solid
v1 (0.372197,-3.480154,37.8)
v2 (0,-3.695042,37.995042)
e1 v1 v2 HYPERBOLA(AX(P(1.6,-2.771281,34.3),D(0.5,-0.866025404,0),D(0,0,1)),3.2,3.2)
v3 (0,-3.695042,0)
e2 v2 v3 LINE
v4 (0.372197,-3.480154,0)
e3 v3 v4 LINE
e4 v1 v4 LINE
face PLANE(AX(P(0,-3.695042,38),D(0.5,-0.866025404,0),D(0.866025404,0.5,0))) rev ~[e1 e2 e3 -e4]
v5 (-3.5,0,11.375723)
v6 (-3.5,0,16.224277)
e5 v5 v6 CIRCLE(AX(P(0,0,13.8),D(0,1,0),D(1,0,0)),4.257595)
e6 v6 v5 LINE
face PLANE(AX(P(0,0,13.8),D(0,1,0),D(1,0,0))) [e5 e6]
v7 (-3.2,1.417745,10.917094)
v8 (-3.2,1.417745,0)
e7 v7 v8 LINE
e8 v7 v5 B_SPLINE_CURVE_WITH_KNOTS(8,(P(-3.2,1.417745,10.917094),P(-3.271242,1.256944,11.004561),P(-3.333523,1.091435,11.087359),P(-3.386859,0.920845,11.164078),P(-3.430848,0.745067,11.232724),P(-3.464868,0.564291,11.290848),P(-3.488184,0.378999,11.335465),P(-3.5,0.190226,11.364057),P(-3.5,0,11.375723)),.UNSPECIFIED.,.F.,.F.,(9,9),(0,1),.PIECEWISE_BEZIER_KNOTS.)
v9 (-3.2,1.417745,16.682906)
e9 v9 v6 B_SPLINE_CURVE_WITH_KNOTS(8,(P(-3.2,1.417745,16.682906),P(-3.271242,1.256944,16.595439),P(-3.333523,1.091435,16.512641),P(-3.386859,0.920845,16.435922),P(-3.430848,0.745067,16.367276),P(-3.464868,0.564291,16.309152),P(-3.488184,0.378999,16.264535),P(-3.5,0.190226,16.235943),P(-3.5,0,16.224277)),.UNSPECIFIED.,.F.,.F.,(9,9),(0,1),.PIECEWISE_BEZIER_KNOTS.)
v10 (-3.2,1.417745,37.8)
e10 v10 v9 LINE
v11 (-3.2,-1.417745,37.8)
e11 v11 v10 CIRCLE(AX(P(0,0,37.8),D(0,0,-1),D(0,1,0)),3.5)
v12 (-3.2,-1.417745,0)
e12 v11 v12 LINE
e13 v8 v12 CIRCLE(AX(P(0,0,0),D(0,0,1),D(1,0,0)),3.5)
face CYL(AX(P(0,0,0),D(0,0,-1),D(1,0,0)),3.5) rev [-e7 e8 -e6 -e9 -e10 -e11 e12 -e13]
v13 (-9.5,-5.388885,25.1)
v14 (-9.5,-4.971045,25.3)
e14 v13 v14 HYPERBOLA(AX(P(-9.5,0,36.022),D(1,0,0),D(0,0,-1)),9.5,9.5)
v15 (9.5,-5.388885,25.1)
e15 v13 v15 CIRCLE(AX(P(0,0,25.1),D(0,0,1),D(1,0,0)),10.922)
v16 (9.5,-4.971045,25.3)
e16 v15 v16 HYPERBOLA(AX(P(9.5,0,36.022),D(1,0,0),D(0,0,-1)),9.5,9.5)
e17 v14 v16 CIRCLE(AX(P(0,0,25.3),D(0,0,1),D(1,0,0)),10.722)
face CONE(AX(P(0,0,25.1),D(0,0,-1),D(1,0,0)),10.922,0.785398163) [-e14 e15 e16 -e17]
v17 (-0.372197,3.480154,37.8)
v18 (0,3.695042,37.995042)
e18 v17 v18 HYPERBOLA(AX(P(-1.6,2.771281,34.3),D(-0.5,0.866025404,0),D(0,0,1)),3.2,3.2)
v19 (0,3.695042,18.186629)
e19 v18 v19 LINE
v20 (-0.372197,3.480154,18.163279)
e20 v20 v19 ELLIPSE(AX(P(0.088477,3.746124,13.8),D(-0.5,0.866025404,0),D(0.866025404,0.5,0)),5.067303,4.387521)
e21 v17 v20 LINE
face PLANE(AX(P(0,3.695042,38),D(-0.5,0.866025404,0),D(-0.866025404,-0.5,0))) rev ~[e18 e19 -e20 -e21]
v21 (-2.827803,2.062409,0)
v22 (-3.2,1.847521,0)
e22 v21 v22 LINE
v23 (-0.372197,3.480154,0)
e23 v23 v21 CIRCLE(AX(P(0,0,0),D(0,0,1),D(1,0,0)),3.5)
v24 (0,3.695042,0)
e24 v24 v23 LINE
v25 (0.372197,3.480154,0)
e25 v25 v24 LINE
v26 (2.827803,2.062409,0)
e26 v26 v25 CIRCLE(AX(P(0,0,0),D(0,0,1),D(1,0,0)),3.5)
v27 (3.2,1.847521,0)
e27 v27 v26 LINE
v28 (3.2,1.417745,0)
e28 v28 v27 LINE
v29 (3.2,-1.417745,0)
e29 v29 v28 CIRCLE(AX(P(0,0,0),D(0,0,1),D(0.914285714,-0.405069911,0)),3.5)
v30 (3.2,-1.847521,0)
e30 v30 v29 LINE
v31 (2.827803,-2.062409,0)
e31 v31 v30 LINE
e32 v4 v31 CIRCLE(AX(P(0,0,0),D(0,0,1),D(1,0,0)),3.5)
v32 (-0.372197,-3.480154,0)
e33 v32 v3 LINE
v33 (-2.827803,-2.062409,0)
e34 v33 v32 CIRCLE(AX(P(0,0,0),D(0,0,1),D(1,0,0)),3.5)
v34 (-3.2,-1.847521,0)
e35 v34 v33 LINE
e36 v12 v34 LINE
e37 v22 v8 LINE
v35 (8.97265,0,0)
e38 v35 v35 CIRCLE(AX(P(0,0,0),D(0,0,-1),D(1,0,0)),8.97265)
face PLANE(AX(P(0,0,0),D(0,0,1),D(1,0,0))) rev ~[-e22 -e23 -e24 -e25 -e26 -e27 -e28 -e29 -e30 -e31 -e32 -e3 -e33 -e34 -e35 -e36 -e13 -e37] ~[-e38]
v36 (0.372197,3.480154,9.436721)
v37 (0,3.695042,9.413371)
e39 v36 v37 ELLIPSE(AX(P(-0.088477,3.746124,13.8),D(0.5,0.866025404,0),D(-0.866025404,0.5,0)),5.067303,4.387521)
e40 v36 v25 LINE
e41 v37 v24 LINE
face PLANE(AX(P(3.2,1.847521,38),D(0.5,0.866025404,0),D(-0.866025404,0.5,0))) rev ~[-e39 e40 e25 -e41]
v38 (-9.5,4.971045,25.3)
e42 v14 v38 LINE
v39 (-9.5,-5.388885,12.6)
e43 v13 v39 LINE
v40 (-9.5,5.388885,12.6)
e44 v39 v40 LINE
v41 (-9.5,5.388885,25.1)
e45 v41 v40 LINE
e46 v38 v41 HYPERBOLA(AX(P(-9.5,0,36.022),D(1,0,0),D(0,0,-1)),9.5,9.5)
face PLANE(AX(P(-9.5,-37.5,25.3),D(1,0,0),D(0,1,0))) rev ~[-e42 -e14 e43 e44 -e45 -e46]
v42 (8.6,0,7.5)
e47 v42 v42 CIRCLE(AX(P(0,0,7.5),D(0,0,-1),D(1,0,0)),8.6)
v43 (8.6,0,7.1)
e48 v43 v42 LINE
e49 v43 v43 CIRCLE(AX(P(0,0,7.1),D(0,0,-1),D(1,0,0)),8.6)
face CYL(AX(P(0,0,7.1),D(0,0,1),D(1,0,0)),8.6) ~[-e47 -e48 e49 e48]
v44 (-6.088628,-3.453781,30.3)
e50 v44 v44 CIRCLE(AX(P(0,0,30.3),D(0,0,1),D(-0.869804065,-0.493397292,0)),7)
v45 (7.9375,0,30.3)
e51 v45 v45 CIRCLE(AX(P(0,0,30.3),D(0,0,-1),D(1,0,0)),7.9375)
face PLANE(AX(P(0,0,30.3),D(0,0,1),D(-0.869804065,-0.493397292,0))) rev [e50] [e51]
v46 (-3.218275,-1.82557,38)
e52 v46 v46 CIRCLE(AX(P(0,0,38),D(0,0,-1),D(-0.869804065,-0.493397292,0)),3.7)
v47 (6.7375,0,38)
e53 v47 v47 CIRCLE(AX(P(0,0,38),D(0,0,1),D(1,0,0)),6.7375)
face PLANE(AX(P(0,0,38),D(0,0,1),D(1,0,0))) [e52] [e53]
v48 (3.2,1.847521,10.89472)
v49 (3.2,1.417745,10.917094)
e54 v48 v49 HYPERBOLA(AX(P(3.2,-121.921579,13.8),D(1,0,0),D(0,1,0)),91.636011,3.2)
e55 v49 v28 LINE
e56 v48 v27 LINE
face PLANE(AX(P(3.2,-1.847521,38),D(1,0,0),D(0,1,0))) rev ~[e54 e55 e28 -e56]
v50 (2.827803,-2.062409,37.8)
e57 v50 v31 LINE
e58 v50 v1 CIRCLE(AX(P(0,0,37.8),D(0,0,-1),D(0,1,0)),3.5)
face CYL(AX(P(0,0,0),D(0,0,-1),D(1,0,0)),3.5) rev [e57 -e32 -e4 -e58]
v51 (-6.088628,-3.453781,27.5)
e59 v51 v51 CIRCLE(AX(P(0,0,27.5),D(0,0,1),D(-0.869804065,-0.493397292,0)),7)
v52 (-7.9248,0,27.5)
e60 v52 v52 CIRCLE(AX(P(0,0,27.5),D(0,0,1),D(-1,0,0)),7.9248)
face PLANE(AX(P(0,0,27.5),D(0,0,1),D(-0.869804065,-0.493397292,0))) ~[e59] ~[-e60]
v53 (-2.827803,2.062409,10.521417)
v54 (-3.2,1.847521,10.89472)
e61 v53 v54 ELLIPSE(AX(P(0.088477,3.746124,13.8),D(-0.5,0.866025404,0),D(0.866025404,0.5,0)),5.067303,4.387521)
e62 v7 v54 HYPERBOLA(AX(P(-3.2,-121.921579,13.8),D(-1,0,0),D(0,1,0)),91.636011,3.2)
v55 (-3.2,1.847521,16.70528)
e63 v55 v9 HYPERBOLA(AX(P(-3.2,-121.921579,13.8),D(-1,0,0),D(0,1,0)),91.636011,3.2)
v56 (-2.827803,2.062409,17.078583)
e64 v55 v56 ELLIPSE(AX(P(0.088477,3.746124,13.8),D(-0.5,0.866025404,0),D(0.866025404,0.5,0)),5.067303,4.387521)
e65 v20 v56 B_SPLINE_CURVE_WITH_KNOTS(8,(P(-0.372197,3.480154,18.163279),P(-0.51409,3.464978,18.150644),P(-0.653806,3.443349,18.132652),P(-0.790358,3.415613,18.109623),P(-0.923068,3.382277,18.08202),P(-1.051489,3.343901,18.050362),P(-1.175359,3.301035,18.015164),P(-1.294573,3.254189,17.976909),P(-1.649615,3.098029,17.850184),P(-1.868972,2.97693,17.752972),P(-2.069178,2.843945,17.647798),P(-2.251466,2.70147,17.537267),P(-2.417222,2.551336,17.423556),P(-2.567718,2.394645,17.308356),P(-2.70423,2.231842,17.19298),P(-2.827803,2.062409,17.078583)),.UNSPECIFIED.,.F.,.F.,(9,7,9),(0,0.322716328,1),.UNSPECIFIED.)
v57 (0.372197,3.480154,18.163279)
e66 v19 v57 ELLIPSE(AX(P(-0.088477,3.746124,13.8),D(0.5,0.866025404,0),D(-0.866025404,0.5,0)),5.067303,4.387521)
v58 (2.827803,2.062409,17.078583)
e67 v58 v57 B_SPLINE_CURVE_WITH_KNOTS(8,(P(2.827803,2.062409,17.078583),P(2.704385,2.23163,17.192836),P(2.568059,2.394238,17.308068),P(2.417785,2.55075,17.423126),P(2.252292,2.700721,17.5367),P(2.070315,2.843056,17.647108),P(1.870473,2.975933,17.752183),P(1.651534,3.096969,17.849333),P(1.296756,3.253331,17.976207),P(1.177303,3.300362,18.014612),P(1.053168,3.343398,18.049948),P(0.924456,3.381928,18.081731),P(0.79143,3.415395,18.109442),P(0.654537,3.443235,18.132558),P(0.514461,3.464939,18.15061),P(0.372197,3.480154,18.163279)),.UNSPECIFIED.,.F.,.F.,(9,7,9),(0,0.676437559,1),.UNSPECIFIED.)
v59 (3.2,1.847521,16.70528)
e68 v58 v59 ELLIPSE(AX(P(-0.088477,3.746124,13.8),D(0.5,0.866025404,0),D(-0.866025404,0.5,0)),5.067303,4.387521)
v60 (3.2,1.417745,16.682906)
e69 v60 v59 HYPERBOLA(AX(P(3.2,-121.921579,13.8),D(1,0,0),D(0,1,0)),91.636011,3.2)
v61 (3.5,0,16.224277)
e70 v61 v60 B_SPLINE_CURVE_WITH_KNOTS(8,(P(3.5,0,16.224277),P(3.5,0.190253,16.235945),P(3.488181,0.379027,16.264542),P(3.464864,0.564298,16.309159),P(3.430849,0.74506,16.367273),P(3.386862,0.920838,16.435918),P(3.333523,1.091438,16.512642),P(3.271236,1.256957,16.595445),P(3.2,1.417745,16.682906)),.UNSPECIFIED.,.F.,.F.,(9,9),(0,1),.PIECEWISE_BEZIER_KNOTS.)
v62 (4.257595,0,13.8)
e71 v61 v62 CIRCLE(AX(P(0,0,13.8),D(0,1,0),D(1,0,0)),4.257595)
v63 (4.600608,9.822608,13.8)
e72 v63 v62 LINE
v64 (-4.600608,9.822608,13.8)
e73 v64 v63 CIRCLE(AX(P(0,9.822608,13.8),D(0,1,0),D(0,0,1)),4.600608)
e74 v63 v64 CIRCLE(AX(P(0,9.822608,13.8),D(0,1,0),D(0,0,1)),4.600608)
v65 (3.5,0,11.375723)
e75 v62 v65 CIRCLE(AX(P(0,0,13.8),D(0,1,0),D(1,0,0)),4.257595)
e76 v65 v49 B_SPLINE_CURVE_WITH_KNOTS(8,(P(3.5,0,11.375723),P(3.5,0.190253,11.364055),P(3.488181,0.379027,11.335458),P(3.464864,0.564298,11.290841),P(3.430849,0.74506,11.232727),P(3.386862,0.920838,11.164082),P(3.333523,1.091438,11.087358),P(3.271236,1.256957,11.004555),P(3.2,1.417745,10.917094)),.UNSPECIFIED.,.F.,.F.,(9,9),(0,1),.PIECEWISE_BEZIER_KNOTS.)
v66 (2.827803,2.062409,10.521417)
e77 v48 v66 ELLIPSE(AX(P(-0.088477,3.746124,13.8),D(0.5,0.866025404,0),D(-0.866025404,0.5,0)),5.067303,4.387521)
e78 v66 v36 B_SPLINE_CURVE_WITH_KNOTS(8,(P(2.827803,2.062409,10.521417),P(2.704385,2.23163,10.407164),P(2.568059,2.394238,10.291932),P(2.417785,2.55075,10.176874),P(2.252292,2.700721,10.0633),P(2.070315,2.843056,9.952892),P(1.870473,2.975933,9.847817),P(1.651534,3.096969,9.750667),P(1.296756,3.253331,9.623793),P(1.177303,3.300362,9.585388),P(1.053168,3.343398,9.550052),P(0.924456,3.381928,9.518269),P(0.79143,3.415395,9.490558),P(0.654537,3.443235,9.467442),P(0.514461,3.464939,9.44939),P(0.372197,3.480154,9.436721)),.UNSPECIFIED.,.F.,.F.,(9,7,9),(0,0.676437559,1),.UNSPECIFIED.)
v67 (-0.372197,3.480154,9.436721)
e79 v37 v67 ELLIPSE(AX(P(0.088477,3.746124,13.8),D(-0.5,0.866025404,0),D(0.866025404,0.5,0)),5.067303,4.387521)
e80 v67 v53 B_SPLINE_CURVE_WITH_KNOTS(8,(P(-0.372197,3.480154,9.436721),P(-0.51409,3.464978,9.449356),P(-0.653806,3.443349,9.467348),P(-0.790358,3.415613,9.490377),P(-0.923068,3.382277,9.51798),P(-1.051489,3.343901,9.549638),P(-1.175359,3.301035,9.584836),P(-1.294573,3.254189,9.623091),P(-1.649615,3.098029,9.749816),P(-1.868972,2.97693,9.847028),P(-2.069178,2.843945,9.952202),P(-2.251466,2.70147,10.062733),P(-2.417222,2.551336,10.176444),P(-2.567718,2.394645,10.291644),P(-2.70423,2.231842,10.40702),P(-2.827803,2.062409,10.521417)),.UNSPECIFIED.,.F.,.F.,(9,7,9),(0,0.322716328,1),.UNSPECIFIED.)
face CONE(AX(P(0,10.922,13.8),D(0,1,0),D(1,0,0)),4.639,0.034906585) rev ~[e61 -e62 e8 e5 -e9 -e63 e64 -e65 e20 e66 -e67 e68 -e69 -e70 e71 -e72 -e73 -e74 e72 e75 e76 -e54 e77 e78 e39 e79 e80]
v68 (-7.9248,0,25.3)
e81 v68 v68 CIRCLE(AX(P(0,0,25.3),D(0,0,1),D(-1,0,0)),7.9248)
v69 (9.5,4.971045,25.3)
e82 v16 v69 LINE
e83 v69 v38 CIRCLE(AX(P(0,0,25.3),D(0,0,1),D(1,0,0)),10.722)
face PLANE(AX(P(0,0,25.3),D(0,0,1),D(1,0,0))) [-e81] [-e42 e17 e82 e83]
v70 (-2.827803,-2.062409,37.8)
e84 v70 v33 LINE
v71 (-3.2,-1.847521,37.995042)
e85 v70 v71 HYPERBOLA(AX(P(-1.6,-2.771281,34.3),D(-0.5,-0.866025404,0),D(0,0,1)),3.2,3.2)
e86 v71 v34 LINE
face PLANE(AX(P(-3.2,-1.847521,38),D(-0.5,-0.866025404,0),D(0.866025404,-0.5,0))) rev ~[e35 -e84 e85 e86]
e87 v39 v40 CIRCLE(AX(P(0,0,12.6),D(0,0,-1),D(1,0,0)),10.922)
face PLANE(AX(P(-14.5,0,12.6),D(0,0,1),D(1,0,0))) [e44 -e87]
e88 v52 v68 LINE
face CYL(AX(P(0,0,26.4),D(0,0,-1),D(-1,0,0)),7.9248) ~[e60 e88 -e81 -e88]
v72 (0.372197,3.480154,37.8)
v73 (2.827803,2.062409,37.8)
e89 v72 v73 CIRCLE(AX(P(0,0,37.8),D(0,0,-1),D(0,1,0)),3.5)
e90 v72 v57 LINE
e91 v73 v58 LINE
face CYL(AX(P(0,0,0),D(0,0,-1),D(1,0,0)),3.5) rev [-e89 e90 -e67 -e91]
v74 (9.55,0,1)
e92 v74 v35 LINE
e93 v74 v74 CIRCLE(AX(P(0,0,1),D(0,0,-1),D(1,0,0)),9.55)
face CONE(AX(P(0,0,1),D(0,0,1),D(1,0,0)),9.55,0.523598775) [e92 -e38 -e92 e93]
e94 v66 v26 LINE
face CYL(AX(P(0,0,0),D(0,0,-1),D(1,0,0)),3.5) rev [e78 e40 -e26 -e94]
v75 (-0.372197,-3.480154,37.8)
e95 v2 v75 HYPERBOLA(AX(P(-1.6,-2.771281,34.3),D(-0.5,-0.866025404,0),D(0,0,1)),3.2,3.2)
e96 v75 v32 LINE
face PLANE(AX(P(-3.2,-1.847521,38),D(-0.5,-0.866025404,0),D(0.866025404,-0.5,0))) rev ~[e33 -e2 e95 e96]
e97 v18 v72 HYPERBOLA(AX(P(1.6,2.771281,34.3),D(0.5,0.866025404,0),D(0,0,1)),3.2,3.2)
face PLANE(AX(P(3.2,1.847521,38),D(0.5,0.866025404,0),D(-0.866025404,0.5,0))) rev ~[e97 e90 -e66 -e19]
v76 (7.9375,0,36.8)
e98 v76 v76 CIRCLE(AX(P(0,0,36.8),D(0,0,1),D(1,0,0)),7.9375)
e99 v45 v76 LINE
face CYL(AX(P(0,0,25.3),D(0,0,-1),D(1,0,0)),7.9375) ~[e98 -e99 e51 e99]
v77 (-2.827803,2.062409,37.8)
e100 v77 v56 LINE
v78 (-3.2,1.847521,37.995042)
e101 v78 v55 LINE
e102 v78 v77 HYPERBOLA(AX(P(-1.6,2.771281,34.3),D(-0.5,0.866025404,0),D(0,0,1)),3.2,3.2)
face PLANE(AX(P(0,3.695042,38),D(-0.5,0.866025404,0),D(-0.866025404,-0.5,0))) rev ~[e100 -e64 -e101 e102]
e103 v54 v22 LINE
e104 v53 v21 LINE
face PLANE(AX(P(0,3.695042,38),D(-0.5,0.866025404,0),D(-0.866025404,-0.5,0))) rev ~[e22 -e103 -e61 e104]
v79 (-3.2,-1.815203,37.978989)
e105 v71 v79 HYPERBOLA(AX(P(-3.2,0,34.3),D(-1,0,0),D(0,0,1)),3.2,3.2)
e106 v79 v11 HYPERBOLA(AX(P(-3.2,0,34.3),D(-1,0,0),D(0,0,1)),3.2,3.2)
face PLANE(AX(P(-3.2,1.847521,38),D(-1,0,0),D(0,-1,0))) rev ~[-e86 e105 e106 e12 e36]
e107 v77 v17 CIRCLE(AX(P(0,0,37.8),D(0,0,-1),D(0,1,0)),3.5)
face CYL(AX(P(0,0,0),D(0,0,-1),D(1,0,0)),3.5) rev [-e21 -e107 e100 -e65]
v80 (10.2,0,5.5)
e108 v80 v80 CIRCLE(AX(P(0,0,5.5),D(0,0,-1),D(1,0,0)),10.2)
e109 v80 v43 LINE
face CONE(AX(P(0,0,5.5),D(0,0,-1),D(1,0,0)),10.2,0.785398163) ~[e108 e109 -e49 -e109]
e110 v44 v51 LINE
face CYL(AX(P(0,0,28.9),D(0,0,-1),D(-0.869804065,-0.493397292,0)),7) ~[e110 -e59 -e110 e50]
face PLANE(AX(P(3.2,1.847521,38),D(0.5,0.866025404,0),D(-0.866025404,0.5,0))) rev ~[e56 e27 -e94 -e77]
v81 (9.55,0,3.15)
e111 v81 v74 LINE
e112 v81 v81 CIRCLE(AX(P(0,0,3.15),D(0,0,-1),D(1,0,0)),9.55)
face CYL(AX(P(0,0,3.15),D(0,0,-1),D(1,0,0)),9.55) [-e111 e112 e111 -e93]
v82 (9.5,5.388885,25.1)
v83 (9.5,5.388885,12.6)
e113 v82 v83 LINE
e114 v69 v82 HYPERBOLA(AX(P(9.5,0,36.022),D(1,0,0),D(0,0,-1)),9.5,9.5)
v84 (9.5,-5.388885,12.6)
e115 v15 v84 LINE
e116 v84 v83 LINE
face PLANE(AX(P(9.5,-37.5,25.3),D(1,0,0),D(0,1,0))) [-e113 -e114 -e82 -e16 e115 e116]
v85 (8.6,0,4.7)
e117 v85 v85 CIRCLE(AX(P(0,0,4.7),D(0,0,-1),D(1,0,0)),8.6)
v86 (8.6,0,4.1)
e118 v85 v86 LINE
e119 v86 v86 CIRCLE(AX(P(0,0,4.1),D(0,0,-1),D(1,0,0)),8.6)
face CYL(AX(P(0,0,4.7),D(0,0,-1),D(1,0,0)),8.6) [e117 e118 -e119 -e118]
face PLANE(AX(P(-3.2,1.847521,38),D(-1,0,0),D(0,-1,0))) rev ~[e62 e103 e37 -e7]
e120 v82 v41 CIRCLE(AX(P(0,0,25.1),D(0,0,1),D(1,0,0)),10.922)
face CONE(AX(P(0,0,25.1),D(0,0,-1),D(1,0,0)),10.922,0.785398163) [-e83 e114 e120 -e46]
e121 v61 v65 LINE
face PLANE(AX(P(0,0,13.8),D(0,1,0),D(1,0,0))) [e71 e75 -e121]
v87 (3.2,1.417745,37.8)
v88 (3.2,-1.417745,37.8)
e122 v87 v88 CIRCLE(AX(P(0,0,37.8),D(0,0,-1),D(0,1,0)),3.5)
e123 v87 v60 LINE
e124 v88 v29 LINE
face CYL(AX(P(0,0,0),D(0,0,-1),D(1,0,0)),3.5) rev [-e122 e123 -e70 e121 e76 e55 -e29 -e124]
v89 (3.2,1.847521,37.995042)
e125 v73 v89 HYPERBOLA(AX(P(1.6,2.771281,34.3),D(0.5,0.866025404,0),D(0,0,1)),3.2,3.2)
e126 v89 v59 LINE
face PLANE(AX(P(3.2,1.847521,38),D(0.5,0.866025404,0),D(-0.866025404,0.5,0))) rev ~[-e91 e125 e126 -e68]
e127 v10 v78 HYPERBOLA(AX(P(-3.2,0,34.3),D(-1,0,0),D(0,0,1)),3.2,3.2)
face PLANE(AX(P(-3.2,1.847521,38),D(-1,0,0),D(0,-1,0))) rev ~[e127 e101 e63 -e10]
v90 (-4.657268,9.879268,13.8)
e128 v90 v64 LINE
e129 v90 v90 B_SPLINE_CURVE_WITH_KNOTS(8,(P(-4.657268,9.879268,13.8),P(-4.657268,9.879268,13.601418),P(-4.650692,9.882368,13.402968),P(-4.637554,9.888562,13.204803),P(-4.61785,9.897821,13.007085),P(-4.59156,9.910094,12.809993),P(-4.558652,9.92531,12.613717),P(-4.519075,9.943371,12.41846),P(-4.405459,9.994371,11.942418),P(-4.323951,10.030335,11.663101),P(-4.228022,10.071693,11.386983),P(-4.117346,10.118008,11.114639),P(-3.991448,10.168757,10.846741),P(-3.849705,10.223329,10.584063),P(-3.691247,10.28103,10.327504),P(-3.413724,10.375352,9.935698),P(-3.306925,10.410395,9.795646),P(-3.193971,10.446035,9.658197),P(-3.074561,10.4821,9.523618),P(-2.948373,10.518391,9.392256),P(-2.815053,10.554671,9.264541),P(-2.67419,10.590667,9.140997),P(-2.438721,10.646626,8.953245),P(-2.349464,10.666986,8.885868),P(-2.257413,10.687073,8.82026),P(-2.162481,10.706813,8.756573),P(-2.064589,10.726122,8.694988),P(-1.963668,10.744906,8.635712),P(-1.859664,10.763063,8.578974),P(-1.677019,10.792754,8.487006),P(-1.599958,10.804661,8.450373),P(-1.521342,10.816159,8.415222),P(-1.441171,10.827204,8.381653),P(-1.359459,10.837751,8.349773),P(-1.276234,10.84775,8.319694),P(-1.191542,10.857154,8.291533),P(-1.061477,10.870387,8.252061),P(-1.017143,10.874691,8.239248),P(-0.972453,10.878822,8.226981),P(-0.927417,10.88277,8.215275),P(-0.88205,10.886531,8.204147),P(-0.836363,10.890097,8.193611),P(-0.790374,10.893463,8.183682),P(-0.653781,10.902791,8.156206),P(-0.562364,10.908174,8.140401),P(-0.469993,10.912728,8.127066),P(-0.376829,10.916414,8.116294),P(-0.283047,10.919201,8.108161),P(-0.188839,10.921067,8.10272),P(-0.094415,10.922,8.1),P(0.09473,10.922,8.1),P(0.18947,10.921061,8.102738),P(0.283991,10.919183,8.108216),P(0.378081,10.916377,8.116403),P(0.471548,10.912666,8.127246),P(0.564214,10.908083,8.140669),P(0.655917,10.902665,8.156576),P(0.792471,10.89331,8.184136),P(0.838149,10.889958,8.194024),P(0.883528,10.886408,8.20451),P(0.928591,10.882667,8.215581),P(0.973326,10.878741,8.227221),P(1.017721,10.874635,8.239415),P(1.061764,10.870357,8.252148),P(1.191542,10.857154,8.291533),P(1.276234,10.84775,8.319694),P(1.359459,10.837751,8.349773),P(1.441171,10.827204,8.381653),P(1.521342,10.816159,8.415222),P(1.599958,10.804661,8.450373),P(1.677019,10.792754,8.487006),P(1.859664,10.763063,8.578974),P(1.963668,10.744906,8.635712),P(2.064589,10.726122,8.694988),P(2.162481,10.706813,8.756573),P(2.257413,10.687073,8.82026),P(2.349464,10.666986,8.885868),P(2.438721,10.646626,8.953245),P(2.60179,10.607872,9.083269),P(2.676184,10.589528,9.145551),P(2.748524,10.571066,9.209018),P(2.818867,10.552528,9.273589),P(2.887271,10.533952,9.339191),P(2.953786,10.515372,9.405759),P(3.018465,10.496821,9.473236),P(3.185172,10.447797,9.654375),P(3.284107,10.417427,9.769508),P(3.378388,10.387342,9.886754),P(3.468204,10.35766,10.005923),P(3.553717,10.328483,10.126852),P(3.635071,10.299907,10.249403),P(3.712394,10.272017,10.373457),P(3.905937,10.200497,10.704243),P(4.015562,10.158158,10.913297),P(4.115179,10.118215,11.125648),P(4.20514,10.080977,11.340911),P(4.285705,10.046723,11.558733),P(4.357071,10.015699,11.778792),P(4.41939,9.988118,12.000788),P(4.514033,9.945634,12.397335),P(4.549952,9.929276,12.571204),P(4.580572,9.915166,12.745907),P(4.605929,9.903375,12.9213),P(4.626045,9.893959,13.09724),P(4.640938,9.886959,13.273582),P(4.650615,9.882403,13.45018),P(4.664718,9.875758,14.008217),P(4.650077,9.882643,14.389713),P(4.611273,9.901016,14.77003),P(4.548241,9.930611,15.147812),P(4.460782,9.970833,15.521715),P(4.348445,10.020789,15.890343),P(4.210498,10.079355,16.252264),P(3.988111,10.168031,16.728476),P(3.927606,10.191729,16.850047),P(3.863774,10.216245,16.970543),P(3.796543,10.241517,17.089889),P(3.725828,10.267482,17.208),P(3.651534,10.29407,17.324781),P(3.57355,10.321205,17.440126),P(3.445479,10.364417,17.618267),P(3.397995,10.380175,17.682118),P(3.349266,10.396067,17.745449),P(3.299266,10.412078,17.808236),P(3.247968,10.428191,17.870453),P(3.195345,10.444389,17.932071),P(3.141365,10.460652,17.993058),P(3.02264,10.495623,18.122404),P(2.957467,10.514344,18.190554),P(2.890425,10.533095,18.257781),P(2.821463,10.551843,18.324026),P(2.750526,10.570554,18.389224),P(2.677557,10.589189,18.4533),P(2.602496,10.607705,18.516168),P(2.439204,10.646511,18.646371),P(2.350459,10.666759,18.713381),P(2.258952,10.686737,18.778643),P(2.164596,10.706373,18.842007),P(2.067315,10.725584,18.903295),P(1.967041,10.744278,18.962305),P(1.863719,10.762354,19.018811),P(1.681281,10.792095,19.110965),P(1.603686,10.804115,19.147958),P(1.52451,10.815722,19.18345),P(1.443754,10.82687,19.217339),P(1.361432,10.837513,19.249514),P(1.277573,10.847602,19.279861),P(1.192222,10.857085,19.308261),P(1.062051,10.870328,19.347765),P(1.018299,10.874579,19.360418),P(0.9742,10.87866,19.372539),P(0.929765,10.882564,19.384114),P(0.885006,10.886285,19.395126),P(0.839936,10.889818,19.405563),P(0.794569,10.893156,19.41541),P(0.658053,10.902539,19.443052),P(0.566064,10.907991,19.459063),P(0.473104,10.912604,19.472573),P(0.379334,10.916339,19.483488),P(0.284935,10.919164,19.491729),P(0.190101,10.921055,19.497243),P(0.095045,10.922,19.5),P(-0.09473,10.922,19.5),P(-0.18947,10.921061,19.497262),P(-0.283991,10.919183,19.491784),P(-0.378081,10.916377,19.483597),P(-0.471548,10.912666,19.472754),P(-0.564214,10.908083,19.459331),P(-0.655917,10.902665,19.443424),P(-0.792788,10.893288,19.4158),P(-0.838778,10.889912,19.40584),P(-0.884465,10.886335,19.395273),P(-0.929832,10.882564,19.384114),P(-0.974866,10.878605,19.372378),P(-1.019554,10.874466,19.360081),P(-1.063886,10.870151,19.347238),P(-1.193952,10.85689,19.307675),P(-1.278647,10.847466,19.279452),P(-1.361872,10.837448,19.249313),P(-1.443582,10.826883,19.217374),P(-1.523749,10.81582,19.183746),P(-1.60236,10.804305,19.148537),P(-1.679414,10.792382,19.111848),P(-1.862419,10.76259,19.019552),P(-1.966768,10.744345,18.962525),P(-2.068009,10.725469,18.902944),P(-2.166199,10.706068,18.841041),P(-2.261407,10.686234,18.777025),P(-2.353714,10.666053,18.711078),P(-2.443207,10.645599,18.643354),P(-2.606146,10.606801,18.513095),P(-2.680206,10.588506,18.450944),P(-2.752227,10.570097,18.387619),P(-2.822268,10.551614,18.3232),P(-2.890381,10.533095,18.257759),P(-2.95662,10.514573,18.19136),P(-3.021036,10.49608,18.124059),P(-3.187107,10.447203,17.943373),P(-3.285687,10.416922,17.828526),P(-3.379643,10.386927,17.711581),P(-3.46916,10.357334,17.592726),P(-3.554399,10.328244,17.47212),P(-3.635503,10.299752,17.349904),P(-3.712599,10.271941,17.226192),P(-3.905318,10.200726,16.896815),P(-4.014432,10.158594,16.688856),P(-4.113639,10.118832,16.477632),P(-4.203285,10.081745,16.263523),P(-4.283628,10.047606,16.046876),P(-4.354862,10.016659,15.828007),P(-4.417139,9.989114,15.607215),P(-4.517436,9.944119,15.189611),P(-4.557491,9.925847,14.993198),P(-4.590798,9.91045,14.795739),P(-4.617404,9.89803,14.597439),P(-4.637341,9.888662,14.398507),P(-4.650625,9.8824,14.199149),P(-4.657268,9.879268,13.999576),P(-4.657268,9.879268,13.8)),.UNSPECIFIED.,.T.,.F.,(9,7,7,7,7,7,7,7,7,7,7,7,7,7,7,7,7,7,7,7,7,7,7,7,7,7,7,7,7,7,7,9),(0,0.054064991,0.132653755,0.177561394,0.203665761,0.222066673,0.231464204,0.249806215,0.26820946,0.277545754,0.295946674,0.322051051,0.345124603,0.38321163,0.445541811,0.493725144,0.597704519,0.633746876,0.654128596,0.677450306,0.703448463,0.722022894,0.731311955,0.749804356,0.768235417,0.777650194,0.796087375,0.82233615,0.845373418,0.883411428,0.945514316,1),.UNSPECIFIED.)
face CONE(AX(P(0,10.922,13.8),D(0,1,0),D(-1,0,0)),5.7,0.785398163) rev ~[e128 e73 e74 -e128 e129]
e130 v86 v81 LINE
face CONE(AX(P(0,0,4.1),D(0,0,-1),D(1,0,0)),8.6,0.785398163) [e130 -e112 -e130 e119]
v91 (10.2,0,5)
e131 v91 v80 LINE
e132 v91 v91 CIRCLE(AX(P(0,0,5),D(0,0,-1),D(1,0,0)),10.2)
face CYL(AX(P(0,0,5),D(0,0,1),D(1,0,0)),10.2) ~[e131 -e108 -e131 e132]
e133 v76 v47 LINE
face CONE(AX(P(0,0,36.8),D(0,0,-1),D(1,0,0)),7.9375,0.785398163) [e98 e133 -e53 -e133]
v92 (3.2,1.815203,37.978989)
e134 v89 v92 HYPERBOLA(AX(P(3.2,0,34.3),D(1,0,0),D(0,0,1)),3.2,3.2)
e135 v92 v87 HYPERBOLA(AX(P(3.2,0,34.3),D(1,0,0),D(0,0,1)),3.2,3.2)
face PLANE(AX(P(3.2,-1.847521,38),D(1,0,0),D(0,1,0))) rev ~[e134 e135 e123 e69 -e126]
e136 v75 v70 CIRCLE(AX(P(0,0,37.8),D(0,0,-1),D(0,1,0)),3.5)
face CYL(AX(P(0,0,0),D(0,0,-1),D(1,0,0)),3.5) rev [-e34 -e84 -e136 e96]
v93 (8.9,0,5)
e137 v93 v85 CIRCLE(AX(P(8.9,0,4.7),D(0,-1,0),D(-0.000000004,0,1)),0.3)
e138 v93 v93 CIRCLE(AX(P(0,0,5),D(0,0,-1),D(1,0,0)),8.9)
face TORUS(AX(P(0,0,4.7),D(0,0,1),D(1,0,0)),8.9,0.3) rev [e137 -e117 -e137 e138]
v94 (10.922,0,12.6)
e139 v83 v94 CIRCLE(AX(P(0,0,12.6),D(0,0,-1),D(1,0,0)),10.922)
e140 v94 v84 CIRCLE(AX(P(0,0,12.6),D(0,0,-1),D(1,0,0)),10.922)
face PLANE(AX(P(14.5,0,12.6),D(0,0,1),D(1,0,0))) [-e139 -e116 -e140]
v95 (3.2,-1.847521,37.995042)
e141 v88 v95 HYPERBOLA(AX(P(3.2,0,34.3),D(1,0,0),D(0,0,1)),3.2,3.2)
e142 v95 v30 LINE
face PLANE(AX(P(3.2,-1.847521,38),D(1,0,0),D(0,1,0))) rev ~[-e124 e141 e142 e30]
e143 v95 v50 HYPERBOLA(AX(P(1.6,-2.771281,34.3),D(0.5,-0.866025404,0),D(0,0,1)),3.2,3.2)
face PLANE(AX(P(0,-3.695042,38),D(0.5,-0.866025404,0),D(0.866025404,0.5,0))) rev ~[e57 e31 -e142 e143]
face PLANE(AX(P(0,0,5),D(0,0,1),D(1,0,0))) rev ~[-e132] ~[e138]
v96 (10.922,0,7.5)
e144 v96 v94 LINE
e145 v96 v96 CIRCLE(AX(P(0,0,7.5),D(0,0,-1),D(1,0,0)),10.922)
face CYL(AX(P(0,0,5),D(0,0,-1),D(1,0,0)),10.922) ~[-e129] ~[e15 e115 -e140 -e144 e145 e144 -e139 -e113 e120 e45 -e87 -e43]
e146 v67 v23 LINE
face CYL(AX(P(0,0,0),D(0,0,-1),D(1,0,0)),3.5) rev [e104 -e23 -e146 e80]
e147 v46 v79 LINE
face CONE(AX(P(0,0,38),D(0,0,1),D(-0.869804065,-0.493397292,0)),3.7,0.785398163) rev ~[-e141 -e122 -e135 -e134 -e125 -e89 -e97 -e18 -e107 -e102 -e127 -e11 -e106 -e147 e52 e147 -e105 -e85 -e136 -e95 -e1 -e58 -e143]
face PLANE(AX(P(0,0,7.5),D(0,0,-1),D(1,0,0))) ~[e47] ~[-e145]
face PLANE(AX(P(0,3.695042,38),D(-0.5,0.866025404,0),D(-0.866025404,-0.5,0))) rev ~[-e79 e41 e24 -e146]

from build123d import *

# Parameters (mm, degrees)
SKETCH1_R               = 9.55
TUBEINTERFACE1_DEPTH    = 5
SKETCH3_R               = 10.922
BODY_DEPTH              = 20.3
BODYCHAMFER_SIZE        = 0.2
SKETCH4_W               = 10
SKETCH4_H               = 75
FLATS_DEPTH             = 12.7
SKETCH5_R               = 7.9375
MOUNTTHREAD1_DEPTH      = 12.7
MOUNTTHREADCHAMFER_SIZE = 1.2
SKETCH17_W              = 2.8
SKETCH17_H              = 5
SKETCH8_R               = 3.5
THRUBORE_DEPTH          = 42.019265815
THRUBORE2_DEPTH         = 38
SKETCH16_R              = 4.639
PORT2_DEPTH             = 10.922
PORT2_DRAFT             = -2
SKETCH26_W              = 2.2
SKETCH26_H              = 0.0127


with BuildPart() as part:
    # Sketch1 → TubeInterface1 (new body)
    with BuildSketch(Plane.XY):
        Circle(SKETCH1_R)
    extrude(amount=TUBEINTERFACE1_DEPTH)

    # Sketch3 → Body (add)
    with BuildSketch(Plane.XY.offset(5)):
        Circle(SKETCH3_R)
    extrude(amount=BODY_DEPTH)

    # BodyChamfer
    bodychamfer_edges = [part.edges().sort_by_distance(p)[0] for p in [
        (-10.922, 0, 25.3),
    ]]
    chamfer(bodychamfer_edges, length=BODYCHAMFER_SIZE)

    # Sketch4 → Flats (cut)
    with BuildSketch(Plane.XY.offset(25.3)):
        with Locations((-14.5, 0)):
            Rectangle(SKETCH4_W, SKETCH4_H)
        with Locations((14.5, 0)):
            Rectangle(SKETCH4_W, SKETCH4_H)
    extrude(amount=-FLATS_DEPTH, mode=Mode.SUBTRACT)

    # Sketch5 → MountThread1 (add)
    with BuildSketch(Plane.XY.offset(25.3)):
        Circle(SKETCH5_R)
    extrude(amount=MOUNTTHREAD1_DEPTH)

    # MountThreadChamfer
    mountthreadchamfer_edges = [part.edges().sort_by_distance(p)[0] for p in [
        (-7.9375, 0, 38),
    ]]
    chamfer(mountthreadchamfer_edges, length=MOUNTTHREADCHAMFER_SIZE)

    # Sketch17 → Cut-Revolve1 (revolve, cut)
    with BuildSketch(Plane(origin=(0, 0, 0), x_dir=(0, 0, -1), z_dir=(1, 0, 0)), mode=Mode.PRIVATE) as cut_revolve1_sk:
        with Locations((-28.9, 9.5)):
            Rectangle(SKETCH17_W, SKETCH17_H)
    revolve(cut_revolve1_sk.sketch.rotate(Axis((0, 0, 0), (0, 0, 1)), 119.564121408), axis=Axis((0, 0, 0), (0, 0, 1)), mode=Mode.SUBTRACT)

    # Sketch8 → ThruBore (cut, through all)
    with BuildSketch(Plane.XY):
        Circle(SKETCH8_R)
    extrude(amount=THRUBORE_DEPTH, mode=Mode.SUBTRACT)

    # Sketch21 → ThruBore2 (cut)
    with BuildSketch(Plane.XY.offset(38)):
        Polygon((3.2, -1.847520861), (3.2, 1.847520861), (0, 3.695041723), (-3.2, 1.847520861), (-3.2, -1.847520861), (0, -3.695041723), align=None)
    extrude(amount=-THRUBORE2_DEPTH, mode=Mode.SUBTRACT)

    # Sketch25 → Chamfer1 (revolve, cut)
    with BuildSketch(Plane(origin=(0, 0, 0), x_dir=(0, 0, -1), z_dir=(1, 0, 0)), mode=Mode.PRIVATE) as chamfer1_sk:
        Polygon((-38, 3.7), (-36, 1.7), (-38, 1.7), align=None)
        Polygon((-38, -3.7), (-36, -1.7), (-38, -1.7), align=None)
    revolve(chamfer1_sk.sketch.rotate(Axis((0, 0, 23.920180356), (0, 0, -1)), 240.435878592), axis=Axis((0, 0, 23.920180356), (0, 0, -1)), mode=Mode.SUBTRACT)


with BuildPart() as port2_tool:
    # Sketch16 → Port2 (with draft: the straight prism first)
    with BuildSketch(Plane(origin=(0, 10.922, 15.05), x_dir=(1, 0, 0), z_dir=(0, 1, 0))):
        with Locations((0, 1.25)):
            Circle(SKETCH16_R)
    extrude(amount=-PORT2_DEPTH)
    # Port2: the draft: its side faces are tilted about the plane it starts from
    port2_sides = [port2_tool.faces().sort_by_distance(p)[0] for p in [
        (-4.639, 5.461, 13.8),
    ]]
    draft(port2_sides, Plane(origin=(0, 10.922, 15.05), x_dir=(1, 0, 0), z_dir=(0, 1, 0)), PORT2_DRAFT)


with BuildPart() as part_1:
    add(part.part)

    # Port2: cut by port2_tool
    add(port2_tool.part, mode=Mode.SUBTRACT)

    # Sketch22 → PortChamfer (revolve, cut)
    with BuildSketch(Plane(origin=(0, 0, 0), x_dir=(0, 0, -1), z_dir=(1, 0, 0)), mode=Mode.PRIVATE) as portchamfer_sk:
        Polygon((-15.8, 10.922), (-19.5, 10.922), (-15.8, 7.222), align=None)
    revolve(portchamfer_sk.sketch.rotate(Axis((0, 0, 13.8), (0, -1, 0)), 90), axis=Axis((0, 0, 13.8), (0, -1, 0)), mode=Mode.SUBTRACT)

    # Sketch23 → RodCoverCrimp (revolve, cut)
    with BuildSketch(Plane(origin=(0, 0, 0), x_dir=(0, 0, -1), z_dir=(1, 0, 0)), mode=Mode.PRIVATE) as rodcovercrimp_sk:
        Polygon((-7.5, 13.6), (-5, 13.6), (-5, 10.2), (-5.5, 10.2), (-7.1, 8.6), (-7.5, 8.6), align=None)
    revolve(rodcovercrimp_sk.sketch.rotate(Axis((0, 0, 0), (0, 0, -1)), 90), axis=Axis((0, 0, 0), (0, 0, -1)), mode=Mode.SUBTRACT)

    # Sketch24 → TubeInterfaceCrimp (revolve, cut)
    with BuildSketch(Plane(origin=(0, 0, 0), x_dir=(0, 0, -1), z_dir=(1, 0, 0)), mode=Mode.PRIVATE) as tubeinterfacecrimp_sk:
        with BuildLine():
            Line((-5, 14.7), (-5, 8.9))
            ThreePointArc((-5, 8.9), (-4.912132034, 8.687867966), (-4.7, 8.6))
            Line((-4.7, 8.6), (-4.1, 8.6))
            Line((-4.1, 8.6), (-3.15, 9.55))
            Line((-3.15, 9.55), (-1, 9.55))
            Line((-1, 9.55), (0, 8.972649731))
            Line((0, 8.972649731), (0, 14.7))
            Line((0, 14.7), (-5, 14.7))
        make_face()
    revolve(tubeinterfacecrimp_sk.sketch.rotate(Axis((0, 0, 0), (0, 0, -1)), 90), axis=Axis((0, 0, 0), (0, 0, -1)), mode=Mode.SUBTRACT)

    # Sketch26 → Cut-Revolve2 (revolve, cut)
    with BuildSketch(Plane(origin=(0, 0, 0), x_dir=(0, 0, -1), z_dir=(1, 0, 0)), mode=Mode.PRIVATE) as cut_revolve2_sk:
        with Locations((-26.4, 7.93115)):
            Rectangle(SKETCH26_W, SKETCH26_H)
    revolve(cut_revolve2_sk.sketch.rotate(Axis((0, 0, 38), (0, 0, 1)), 90), axis=Axis((0, 0, 38), (0, 0, 1)), mode=Mode.SUBTRACT)


solid = part_1.part
